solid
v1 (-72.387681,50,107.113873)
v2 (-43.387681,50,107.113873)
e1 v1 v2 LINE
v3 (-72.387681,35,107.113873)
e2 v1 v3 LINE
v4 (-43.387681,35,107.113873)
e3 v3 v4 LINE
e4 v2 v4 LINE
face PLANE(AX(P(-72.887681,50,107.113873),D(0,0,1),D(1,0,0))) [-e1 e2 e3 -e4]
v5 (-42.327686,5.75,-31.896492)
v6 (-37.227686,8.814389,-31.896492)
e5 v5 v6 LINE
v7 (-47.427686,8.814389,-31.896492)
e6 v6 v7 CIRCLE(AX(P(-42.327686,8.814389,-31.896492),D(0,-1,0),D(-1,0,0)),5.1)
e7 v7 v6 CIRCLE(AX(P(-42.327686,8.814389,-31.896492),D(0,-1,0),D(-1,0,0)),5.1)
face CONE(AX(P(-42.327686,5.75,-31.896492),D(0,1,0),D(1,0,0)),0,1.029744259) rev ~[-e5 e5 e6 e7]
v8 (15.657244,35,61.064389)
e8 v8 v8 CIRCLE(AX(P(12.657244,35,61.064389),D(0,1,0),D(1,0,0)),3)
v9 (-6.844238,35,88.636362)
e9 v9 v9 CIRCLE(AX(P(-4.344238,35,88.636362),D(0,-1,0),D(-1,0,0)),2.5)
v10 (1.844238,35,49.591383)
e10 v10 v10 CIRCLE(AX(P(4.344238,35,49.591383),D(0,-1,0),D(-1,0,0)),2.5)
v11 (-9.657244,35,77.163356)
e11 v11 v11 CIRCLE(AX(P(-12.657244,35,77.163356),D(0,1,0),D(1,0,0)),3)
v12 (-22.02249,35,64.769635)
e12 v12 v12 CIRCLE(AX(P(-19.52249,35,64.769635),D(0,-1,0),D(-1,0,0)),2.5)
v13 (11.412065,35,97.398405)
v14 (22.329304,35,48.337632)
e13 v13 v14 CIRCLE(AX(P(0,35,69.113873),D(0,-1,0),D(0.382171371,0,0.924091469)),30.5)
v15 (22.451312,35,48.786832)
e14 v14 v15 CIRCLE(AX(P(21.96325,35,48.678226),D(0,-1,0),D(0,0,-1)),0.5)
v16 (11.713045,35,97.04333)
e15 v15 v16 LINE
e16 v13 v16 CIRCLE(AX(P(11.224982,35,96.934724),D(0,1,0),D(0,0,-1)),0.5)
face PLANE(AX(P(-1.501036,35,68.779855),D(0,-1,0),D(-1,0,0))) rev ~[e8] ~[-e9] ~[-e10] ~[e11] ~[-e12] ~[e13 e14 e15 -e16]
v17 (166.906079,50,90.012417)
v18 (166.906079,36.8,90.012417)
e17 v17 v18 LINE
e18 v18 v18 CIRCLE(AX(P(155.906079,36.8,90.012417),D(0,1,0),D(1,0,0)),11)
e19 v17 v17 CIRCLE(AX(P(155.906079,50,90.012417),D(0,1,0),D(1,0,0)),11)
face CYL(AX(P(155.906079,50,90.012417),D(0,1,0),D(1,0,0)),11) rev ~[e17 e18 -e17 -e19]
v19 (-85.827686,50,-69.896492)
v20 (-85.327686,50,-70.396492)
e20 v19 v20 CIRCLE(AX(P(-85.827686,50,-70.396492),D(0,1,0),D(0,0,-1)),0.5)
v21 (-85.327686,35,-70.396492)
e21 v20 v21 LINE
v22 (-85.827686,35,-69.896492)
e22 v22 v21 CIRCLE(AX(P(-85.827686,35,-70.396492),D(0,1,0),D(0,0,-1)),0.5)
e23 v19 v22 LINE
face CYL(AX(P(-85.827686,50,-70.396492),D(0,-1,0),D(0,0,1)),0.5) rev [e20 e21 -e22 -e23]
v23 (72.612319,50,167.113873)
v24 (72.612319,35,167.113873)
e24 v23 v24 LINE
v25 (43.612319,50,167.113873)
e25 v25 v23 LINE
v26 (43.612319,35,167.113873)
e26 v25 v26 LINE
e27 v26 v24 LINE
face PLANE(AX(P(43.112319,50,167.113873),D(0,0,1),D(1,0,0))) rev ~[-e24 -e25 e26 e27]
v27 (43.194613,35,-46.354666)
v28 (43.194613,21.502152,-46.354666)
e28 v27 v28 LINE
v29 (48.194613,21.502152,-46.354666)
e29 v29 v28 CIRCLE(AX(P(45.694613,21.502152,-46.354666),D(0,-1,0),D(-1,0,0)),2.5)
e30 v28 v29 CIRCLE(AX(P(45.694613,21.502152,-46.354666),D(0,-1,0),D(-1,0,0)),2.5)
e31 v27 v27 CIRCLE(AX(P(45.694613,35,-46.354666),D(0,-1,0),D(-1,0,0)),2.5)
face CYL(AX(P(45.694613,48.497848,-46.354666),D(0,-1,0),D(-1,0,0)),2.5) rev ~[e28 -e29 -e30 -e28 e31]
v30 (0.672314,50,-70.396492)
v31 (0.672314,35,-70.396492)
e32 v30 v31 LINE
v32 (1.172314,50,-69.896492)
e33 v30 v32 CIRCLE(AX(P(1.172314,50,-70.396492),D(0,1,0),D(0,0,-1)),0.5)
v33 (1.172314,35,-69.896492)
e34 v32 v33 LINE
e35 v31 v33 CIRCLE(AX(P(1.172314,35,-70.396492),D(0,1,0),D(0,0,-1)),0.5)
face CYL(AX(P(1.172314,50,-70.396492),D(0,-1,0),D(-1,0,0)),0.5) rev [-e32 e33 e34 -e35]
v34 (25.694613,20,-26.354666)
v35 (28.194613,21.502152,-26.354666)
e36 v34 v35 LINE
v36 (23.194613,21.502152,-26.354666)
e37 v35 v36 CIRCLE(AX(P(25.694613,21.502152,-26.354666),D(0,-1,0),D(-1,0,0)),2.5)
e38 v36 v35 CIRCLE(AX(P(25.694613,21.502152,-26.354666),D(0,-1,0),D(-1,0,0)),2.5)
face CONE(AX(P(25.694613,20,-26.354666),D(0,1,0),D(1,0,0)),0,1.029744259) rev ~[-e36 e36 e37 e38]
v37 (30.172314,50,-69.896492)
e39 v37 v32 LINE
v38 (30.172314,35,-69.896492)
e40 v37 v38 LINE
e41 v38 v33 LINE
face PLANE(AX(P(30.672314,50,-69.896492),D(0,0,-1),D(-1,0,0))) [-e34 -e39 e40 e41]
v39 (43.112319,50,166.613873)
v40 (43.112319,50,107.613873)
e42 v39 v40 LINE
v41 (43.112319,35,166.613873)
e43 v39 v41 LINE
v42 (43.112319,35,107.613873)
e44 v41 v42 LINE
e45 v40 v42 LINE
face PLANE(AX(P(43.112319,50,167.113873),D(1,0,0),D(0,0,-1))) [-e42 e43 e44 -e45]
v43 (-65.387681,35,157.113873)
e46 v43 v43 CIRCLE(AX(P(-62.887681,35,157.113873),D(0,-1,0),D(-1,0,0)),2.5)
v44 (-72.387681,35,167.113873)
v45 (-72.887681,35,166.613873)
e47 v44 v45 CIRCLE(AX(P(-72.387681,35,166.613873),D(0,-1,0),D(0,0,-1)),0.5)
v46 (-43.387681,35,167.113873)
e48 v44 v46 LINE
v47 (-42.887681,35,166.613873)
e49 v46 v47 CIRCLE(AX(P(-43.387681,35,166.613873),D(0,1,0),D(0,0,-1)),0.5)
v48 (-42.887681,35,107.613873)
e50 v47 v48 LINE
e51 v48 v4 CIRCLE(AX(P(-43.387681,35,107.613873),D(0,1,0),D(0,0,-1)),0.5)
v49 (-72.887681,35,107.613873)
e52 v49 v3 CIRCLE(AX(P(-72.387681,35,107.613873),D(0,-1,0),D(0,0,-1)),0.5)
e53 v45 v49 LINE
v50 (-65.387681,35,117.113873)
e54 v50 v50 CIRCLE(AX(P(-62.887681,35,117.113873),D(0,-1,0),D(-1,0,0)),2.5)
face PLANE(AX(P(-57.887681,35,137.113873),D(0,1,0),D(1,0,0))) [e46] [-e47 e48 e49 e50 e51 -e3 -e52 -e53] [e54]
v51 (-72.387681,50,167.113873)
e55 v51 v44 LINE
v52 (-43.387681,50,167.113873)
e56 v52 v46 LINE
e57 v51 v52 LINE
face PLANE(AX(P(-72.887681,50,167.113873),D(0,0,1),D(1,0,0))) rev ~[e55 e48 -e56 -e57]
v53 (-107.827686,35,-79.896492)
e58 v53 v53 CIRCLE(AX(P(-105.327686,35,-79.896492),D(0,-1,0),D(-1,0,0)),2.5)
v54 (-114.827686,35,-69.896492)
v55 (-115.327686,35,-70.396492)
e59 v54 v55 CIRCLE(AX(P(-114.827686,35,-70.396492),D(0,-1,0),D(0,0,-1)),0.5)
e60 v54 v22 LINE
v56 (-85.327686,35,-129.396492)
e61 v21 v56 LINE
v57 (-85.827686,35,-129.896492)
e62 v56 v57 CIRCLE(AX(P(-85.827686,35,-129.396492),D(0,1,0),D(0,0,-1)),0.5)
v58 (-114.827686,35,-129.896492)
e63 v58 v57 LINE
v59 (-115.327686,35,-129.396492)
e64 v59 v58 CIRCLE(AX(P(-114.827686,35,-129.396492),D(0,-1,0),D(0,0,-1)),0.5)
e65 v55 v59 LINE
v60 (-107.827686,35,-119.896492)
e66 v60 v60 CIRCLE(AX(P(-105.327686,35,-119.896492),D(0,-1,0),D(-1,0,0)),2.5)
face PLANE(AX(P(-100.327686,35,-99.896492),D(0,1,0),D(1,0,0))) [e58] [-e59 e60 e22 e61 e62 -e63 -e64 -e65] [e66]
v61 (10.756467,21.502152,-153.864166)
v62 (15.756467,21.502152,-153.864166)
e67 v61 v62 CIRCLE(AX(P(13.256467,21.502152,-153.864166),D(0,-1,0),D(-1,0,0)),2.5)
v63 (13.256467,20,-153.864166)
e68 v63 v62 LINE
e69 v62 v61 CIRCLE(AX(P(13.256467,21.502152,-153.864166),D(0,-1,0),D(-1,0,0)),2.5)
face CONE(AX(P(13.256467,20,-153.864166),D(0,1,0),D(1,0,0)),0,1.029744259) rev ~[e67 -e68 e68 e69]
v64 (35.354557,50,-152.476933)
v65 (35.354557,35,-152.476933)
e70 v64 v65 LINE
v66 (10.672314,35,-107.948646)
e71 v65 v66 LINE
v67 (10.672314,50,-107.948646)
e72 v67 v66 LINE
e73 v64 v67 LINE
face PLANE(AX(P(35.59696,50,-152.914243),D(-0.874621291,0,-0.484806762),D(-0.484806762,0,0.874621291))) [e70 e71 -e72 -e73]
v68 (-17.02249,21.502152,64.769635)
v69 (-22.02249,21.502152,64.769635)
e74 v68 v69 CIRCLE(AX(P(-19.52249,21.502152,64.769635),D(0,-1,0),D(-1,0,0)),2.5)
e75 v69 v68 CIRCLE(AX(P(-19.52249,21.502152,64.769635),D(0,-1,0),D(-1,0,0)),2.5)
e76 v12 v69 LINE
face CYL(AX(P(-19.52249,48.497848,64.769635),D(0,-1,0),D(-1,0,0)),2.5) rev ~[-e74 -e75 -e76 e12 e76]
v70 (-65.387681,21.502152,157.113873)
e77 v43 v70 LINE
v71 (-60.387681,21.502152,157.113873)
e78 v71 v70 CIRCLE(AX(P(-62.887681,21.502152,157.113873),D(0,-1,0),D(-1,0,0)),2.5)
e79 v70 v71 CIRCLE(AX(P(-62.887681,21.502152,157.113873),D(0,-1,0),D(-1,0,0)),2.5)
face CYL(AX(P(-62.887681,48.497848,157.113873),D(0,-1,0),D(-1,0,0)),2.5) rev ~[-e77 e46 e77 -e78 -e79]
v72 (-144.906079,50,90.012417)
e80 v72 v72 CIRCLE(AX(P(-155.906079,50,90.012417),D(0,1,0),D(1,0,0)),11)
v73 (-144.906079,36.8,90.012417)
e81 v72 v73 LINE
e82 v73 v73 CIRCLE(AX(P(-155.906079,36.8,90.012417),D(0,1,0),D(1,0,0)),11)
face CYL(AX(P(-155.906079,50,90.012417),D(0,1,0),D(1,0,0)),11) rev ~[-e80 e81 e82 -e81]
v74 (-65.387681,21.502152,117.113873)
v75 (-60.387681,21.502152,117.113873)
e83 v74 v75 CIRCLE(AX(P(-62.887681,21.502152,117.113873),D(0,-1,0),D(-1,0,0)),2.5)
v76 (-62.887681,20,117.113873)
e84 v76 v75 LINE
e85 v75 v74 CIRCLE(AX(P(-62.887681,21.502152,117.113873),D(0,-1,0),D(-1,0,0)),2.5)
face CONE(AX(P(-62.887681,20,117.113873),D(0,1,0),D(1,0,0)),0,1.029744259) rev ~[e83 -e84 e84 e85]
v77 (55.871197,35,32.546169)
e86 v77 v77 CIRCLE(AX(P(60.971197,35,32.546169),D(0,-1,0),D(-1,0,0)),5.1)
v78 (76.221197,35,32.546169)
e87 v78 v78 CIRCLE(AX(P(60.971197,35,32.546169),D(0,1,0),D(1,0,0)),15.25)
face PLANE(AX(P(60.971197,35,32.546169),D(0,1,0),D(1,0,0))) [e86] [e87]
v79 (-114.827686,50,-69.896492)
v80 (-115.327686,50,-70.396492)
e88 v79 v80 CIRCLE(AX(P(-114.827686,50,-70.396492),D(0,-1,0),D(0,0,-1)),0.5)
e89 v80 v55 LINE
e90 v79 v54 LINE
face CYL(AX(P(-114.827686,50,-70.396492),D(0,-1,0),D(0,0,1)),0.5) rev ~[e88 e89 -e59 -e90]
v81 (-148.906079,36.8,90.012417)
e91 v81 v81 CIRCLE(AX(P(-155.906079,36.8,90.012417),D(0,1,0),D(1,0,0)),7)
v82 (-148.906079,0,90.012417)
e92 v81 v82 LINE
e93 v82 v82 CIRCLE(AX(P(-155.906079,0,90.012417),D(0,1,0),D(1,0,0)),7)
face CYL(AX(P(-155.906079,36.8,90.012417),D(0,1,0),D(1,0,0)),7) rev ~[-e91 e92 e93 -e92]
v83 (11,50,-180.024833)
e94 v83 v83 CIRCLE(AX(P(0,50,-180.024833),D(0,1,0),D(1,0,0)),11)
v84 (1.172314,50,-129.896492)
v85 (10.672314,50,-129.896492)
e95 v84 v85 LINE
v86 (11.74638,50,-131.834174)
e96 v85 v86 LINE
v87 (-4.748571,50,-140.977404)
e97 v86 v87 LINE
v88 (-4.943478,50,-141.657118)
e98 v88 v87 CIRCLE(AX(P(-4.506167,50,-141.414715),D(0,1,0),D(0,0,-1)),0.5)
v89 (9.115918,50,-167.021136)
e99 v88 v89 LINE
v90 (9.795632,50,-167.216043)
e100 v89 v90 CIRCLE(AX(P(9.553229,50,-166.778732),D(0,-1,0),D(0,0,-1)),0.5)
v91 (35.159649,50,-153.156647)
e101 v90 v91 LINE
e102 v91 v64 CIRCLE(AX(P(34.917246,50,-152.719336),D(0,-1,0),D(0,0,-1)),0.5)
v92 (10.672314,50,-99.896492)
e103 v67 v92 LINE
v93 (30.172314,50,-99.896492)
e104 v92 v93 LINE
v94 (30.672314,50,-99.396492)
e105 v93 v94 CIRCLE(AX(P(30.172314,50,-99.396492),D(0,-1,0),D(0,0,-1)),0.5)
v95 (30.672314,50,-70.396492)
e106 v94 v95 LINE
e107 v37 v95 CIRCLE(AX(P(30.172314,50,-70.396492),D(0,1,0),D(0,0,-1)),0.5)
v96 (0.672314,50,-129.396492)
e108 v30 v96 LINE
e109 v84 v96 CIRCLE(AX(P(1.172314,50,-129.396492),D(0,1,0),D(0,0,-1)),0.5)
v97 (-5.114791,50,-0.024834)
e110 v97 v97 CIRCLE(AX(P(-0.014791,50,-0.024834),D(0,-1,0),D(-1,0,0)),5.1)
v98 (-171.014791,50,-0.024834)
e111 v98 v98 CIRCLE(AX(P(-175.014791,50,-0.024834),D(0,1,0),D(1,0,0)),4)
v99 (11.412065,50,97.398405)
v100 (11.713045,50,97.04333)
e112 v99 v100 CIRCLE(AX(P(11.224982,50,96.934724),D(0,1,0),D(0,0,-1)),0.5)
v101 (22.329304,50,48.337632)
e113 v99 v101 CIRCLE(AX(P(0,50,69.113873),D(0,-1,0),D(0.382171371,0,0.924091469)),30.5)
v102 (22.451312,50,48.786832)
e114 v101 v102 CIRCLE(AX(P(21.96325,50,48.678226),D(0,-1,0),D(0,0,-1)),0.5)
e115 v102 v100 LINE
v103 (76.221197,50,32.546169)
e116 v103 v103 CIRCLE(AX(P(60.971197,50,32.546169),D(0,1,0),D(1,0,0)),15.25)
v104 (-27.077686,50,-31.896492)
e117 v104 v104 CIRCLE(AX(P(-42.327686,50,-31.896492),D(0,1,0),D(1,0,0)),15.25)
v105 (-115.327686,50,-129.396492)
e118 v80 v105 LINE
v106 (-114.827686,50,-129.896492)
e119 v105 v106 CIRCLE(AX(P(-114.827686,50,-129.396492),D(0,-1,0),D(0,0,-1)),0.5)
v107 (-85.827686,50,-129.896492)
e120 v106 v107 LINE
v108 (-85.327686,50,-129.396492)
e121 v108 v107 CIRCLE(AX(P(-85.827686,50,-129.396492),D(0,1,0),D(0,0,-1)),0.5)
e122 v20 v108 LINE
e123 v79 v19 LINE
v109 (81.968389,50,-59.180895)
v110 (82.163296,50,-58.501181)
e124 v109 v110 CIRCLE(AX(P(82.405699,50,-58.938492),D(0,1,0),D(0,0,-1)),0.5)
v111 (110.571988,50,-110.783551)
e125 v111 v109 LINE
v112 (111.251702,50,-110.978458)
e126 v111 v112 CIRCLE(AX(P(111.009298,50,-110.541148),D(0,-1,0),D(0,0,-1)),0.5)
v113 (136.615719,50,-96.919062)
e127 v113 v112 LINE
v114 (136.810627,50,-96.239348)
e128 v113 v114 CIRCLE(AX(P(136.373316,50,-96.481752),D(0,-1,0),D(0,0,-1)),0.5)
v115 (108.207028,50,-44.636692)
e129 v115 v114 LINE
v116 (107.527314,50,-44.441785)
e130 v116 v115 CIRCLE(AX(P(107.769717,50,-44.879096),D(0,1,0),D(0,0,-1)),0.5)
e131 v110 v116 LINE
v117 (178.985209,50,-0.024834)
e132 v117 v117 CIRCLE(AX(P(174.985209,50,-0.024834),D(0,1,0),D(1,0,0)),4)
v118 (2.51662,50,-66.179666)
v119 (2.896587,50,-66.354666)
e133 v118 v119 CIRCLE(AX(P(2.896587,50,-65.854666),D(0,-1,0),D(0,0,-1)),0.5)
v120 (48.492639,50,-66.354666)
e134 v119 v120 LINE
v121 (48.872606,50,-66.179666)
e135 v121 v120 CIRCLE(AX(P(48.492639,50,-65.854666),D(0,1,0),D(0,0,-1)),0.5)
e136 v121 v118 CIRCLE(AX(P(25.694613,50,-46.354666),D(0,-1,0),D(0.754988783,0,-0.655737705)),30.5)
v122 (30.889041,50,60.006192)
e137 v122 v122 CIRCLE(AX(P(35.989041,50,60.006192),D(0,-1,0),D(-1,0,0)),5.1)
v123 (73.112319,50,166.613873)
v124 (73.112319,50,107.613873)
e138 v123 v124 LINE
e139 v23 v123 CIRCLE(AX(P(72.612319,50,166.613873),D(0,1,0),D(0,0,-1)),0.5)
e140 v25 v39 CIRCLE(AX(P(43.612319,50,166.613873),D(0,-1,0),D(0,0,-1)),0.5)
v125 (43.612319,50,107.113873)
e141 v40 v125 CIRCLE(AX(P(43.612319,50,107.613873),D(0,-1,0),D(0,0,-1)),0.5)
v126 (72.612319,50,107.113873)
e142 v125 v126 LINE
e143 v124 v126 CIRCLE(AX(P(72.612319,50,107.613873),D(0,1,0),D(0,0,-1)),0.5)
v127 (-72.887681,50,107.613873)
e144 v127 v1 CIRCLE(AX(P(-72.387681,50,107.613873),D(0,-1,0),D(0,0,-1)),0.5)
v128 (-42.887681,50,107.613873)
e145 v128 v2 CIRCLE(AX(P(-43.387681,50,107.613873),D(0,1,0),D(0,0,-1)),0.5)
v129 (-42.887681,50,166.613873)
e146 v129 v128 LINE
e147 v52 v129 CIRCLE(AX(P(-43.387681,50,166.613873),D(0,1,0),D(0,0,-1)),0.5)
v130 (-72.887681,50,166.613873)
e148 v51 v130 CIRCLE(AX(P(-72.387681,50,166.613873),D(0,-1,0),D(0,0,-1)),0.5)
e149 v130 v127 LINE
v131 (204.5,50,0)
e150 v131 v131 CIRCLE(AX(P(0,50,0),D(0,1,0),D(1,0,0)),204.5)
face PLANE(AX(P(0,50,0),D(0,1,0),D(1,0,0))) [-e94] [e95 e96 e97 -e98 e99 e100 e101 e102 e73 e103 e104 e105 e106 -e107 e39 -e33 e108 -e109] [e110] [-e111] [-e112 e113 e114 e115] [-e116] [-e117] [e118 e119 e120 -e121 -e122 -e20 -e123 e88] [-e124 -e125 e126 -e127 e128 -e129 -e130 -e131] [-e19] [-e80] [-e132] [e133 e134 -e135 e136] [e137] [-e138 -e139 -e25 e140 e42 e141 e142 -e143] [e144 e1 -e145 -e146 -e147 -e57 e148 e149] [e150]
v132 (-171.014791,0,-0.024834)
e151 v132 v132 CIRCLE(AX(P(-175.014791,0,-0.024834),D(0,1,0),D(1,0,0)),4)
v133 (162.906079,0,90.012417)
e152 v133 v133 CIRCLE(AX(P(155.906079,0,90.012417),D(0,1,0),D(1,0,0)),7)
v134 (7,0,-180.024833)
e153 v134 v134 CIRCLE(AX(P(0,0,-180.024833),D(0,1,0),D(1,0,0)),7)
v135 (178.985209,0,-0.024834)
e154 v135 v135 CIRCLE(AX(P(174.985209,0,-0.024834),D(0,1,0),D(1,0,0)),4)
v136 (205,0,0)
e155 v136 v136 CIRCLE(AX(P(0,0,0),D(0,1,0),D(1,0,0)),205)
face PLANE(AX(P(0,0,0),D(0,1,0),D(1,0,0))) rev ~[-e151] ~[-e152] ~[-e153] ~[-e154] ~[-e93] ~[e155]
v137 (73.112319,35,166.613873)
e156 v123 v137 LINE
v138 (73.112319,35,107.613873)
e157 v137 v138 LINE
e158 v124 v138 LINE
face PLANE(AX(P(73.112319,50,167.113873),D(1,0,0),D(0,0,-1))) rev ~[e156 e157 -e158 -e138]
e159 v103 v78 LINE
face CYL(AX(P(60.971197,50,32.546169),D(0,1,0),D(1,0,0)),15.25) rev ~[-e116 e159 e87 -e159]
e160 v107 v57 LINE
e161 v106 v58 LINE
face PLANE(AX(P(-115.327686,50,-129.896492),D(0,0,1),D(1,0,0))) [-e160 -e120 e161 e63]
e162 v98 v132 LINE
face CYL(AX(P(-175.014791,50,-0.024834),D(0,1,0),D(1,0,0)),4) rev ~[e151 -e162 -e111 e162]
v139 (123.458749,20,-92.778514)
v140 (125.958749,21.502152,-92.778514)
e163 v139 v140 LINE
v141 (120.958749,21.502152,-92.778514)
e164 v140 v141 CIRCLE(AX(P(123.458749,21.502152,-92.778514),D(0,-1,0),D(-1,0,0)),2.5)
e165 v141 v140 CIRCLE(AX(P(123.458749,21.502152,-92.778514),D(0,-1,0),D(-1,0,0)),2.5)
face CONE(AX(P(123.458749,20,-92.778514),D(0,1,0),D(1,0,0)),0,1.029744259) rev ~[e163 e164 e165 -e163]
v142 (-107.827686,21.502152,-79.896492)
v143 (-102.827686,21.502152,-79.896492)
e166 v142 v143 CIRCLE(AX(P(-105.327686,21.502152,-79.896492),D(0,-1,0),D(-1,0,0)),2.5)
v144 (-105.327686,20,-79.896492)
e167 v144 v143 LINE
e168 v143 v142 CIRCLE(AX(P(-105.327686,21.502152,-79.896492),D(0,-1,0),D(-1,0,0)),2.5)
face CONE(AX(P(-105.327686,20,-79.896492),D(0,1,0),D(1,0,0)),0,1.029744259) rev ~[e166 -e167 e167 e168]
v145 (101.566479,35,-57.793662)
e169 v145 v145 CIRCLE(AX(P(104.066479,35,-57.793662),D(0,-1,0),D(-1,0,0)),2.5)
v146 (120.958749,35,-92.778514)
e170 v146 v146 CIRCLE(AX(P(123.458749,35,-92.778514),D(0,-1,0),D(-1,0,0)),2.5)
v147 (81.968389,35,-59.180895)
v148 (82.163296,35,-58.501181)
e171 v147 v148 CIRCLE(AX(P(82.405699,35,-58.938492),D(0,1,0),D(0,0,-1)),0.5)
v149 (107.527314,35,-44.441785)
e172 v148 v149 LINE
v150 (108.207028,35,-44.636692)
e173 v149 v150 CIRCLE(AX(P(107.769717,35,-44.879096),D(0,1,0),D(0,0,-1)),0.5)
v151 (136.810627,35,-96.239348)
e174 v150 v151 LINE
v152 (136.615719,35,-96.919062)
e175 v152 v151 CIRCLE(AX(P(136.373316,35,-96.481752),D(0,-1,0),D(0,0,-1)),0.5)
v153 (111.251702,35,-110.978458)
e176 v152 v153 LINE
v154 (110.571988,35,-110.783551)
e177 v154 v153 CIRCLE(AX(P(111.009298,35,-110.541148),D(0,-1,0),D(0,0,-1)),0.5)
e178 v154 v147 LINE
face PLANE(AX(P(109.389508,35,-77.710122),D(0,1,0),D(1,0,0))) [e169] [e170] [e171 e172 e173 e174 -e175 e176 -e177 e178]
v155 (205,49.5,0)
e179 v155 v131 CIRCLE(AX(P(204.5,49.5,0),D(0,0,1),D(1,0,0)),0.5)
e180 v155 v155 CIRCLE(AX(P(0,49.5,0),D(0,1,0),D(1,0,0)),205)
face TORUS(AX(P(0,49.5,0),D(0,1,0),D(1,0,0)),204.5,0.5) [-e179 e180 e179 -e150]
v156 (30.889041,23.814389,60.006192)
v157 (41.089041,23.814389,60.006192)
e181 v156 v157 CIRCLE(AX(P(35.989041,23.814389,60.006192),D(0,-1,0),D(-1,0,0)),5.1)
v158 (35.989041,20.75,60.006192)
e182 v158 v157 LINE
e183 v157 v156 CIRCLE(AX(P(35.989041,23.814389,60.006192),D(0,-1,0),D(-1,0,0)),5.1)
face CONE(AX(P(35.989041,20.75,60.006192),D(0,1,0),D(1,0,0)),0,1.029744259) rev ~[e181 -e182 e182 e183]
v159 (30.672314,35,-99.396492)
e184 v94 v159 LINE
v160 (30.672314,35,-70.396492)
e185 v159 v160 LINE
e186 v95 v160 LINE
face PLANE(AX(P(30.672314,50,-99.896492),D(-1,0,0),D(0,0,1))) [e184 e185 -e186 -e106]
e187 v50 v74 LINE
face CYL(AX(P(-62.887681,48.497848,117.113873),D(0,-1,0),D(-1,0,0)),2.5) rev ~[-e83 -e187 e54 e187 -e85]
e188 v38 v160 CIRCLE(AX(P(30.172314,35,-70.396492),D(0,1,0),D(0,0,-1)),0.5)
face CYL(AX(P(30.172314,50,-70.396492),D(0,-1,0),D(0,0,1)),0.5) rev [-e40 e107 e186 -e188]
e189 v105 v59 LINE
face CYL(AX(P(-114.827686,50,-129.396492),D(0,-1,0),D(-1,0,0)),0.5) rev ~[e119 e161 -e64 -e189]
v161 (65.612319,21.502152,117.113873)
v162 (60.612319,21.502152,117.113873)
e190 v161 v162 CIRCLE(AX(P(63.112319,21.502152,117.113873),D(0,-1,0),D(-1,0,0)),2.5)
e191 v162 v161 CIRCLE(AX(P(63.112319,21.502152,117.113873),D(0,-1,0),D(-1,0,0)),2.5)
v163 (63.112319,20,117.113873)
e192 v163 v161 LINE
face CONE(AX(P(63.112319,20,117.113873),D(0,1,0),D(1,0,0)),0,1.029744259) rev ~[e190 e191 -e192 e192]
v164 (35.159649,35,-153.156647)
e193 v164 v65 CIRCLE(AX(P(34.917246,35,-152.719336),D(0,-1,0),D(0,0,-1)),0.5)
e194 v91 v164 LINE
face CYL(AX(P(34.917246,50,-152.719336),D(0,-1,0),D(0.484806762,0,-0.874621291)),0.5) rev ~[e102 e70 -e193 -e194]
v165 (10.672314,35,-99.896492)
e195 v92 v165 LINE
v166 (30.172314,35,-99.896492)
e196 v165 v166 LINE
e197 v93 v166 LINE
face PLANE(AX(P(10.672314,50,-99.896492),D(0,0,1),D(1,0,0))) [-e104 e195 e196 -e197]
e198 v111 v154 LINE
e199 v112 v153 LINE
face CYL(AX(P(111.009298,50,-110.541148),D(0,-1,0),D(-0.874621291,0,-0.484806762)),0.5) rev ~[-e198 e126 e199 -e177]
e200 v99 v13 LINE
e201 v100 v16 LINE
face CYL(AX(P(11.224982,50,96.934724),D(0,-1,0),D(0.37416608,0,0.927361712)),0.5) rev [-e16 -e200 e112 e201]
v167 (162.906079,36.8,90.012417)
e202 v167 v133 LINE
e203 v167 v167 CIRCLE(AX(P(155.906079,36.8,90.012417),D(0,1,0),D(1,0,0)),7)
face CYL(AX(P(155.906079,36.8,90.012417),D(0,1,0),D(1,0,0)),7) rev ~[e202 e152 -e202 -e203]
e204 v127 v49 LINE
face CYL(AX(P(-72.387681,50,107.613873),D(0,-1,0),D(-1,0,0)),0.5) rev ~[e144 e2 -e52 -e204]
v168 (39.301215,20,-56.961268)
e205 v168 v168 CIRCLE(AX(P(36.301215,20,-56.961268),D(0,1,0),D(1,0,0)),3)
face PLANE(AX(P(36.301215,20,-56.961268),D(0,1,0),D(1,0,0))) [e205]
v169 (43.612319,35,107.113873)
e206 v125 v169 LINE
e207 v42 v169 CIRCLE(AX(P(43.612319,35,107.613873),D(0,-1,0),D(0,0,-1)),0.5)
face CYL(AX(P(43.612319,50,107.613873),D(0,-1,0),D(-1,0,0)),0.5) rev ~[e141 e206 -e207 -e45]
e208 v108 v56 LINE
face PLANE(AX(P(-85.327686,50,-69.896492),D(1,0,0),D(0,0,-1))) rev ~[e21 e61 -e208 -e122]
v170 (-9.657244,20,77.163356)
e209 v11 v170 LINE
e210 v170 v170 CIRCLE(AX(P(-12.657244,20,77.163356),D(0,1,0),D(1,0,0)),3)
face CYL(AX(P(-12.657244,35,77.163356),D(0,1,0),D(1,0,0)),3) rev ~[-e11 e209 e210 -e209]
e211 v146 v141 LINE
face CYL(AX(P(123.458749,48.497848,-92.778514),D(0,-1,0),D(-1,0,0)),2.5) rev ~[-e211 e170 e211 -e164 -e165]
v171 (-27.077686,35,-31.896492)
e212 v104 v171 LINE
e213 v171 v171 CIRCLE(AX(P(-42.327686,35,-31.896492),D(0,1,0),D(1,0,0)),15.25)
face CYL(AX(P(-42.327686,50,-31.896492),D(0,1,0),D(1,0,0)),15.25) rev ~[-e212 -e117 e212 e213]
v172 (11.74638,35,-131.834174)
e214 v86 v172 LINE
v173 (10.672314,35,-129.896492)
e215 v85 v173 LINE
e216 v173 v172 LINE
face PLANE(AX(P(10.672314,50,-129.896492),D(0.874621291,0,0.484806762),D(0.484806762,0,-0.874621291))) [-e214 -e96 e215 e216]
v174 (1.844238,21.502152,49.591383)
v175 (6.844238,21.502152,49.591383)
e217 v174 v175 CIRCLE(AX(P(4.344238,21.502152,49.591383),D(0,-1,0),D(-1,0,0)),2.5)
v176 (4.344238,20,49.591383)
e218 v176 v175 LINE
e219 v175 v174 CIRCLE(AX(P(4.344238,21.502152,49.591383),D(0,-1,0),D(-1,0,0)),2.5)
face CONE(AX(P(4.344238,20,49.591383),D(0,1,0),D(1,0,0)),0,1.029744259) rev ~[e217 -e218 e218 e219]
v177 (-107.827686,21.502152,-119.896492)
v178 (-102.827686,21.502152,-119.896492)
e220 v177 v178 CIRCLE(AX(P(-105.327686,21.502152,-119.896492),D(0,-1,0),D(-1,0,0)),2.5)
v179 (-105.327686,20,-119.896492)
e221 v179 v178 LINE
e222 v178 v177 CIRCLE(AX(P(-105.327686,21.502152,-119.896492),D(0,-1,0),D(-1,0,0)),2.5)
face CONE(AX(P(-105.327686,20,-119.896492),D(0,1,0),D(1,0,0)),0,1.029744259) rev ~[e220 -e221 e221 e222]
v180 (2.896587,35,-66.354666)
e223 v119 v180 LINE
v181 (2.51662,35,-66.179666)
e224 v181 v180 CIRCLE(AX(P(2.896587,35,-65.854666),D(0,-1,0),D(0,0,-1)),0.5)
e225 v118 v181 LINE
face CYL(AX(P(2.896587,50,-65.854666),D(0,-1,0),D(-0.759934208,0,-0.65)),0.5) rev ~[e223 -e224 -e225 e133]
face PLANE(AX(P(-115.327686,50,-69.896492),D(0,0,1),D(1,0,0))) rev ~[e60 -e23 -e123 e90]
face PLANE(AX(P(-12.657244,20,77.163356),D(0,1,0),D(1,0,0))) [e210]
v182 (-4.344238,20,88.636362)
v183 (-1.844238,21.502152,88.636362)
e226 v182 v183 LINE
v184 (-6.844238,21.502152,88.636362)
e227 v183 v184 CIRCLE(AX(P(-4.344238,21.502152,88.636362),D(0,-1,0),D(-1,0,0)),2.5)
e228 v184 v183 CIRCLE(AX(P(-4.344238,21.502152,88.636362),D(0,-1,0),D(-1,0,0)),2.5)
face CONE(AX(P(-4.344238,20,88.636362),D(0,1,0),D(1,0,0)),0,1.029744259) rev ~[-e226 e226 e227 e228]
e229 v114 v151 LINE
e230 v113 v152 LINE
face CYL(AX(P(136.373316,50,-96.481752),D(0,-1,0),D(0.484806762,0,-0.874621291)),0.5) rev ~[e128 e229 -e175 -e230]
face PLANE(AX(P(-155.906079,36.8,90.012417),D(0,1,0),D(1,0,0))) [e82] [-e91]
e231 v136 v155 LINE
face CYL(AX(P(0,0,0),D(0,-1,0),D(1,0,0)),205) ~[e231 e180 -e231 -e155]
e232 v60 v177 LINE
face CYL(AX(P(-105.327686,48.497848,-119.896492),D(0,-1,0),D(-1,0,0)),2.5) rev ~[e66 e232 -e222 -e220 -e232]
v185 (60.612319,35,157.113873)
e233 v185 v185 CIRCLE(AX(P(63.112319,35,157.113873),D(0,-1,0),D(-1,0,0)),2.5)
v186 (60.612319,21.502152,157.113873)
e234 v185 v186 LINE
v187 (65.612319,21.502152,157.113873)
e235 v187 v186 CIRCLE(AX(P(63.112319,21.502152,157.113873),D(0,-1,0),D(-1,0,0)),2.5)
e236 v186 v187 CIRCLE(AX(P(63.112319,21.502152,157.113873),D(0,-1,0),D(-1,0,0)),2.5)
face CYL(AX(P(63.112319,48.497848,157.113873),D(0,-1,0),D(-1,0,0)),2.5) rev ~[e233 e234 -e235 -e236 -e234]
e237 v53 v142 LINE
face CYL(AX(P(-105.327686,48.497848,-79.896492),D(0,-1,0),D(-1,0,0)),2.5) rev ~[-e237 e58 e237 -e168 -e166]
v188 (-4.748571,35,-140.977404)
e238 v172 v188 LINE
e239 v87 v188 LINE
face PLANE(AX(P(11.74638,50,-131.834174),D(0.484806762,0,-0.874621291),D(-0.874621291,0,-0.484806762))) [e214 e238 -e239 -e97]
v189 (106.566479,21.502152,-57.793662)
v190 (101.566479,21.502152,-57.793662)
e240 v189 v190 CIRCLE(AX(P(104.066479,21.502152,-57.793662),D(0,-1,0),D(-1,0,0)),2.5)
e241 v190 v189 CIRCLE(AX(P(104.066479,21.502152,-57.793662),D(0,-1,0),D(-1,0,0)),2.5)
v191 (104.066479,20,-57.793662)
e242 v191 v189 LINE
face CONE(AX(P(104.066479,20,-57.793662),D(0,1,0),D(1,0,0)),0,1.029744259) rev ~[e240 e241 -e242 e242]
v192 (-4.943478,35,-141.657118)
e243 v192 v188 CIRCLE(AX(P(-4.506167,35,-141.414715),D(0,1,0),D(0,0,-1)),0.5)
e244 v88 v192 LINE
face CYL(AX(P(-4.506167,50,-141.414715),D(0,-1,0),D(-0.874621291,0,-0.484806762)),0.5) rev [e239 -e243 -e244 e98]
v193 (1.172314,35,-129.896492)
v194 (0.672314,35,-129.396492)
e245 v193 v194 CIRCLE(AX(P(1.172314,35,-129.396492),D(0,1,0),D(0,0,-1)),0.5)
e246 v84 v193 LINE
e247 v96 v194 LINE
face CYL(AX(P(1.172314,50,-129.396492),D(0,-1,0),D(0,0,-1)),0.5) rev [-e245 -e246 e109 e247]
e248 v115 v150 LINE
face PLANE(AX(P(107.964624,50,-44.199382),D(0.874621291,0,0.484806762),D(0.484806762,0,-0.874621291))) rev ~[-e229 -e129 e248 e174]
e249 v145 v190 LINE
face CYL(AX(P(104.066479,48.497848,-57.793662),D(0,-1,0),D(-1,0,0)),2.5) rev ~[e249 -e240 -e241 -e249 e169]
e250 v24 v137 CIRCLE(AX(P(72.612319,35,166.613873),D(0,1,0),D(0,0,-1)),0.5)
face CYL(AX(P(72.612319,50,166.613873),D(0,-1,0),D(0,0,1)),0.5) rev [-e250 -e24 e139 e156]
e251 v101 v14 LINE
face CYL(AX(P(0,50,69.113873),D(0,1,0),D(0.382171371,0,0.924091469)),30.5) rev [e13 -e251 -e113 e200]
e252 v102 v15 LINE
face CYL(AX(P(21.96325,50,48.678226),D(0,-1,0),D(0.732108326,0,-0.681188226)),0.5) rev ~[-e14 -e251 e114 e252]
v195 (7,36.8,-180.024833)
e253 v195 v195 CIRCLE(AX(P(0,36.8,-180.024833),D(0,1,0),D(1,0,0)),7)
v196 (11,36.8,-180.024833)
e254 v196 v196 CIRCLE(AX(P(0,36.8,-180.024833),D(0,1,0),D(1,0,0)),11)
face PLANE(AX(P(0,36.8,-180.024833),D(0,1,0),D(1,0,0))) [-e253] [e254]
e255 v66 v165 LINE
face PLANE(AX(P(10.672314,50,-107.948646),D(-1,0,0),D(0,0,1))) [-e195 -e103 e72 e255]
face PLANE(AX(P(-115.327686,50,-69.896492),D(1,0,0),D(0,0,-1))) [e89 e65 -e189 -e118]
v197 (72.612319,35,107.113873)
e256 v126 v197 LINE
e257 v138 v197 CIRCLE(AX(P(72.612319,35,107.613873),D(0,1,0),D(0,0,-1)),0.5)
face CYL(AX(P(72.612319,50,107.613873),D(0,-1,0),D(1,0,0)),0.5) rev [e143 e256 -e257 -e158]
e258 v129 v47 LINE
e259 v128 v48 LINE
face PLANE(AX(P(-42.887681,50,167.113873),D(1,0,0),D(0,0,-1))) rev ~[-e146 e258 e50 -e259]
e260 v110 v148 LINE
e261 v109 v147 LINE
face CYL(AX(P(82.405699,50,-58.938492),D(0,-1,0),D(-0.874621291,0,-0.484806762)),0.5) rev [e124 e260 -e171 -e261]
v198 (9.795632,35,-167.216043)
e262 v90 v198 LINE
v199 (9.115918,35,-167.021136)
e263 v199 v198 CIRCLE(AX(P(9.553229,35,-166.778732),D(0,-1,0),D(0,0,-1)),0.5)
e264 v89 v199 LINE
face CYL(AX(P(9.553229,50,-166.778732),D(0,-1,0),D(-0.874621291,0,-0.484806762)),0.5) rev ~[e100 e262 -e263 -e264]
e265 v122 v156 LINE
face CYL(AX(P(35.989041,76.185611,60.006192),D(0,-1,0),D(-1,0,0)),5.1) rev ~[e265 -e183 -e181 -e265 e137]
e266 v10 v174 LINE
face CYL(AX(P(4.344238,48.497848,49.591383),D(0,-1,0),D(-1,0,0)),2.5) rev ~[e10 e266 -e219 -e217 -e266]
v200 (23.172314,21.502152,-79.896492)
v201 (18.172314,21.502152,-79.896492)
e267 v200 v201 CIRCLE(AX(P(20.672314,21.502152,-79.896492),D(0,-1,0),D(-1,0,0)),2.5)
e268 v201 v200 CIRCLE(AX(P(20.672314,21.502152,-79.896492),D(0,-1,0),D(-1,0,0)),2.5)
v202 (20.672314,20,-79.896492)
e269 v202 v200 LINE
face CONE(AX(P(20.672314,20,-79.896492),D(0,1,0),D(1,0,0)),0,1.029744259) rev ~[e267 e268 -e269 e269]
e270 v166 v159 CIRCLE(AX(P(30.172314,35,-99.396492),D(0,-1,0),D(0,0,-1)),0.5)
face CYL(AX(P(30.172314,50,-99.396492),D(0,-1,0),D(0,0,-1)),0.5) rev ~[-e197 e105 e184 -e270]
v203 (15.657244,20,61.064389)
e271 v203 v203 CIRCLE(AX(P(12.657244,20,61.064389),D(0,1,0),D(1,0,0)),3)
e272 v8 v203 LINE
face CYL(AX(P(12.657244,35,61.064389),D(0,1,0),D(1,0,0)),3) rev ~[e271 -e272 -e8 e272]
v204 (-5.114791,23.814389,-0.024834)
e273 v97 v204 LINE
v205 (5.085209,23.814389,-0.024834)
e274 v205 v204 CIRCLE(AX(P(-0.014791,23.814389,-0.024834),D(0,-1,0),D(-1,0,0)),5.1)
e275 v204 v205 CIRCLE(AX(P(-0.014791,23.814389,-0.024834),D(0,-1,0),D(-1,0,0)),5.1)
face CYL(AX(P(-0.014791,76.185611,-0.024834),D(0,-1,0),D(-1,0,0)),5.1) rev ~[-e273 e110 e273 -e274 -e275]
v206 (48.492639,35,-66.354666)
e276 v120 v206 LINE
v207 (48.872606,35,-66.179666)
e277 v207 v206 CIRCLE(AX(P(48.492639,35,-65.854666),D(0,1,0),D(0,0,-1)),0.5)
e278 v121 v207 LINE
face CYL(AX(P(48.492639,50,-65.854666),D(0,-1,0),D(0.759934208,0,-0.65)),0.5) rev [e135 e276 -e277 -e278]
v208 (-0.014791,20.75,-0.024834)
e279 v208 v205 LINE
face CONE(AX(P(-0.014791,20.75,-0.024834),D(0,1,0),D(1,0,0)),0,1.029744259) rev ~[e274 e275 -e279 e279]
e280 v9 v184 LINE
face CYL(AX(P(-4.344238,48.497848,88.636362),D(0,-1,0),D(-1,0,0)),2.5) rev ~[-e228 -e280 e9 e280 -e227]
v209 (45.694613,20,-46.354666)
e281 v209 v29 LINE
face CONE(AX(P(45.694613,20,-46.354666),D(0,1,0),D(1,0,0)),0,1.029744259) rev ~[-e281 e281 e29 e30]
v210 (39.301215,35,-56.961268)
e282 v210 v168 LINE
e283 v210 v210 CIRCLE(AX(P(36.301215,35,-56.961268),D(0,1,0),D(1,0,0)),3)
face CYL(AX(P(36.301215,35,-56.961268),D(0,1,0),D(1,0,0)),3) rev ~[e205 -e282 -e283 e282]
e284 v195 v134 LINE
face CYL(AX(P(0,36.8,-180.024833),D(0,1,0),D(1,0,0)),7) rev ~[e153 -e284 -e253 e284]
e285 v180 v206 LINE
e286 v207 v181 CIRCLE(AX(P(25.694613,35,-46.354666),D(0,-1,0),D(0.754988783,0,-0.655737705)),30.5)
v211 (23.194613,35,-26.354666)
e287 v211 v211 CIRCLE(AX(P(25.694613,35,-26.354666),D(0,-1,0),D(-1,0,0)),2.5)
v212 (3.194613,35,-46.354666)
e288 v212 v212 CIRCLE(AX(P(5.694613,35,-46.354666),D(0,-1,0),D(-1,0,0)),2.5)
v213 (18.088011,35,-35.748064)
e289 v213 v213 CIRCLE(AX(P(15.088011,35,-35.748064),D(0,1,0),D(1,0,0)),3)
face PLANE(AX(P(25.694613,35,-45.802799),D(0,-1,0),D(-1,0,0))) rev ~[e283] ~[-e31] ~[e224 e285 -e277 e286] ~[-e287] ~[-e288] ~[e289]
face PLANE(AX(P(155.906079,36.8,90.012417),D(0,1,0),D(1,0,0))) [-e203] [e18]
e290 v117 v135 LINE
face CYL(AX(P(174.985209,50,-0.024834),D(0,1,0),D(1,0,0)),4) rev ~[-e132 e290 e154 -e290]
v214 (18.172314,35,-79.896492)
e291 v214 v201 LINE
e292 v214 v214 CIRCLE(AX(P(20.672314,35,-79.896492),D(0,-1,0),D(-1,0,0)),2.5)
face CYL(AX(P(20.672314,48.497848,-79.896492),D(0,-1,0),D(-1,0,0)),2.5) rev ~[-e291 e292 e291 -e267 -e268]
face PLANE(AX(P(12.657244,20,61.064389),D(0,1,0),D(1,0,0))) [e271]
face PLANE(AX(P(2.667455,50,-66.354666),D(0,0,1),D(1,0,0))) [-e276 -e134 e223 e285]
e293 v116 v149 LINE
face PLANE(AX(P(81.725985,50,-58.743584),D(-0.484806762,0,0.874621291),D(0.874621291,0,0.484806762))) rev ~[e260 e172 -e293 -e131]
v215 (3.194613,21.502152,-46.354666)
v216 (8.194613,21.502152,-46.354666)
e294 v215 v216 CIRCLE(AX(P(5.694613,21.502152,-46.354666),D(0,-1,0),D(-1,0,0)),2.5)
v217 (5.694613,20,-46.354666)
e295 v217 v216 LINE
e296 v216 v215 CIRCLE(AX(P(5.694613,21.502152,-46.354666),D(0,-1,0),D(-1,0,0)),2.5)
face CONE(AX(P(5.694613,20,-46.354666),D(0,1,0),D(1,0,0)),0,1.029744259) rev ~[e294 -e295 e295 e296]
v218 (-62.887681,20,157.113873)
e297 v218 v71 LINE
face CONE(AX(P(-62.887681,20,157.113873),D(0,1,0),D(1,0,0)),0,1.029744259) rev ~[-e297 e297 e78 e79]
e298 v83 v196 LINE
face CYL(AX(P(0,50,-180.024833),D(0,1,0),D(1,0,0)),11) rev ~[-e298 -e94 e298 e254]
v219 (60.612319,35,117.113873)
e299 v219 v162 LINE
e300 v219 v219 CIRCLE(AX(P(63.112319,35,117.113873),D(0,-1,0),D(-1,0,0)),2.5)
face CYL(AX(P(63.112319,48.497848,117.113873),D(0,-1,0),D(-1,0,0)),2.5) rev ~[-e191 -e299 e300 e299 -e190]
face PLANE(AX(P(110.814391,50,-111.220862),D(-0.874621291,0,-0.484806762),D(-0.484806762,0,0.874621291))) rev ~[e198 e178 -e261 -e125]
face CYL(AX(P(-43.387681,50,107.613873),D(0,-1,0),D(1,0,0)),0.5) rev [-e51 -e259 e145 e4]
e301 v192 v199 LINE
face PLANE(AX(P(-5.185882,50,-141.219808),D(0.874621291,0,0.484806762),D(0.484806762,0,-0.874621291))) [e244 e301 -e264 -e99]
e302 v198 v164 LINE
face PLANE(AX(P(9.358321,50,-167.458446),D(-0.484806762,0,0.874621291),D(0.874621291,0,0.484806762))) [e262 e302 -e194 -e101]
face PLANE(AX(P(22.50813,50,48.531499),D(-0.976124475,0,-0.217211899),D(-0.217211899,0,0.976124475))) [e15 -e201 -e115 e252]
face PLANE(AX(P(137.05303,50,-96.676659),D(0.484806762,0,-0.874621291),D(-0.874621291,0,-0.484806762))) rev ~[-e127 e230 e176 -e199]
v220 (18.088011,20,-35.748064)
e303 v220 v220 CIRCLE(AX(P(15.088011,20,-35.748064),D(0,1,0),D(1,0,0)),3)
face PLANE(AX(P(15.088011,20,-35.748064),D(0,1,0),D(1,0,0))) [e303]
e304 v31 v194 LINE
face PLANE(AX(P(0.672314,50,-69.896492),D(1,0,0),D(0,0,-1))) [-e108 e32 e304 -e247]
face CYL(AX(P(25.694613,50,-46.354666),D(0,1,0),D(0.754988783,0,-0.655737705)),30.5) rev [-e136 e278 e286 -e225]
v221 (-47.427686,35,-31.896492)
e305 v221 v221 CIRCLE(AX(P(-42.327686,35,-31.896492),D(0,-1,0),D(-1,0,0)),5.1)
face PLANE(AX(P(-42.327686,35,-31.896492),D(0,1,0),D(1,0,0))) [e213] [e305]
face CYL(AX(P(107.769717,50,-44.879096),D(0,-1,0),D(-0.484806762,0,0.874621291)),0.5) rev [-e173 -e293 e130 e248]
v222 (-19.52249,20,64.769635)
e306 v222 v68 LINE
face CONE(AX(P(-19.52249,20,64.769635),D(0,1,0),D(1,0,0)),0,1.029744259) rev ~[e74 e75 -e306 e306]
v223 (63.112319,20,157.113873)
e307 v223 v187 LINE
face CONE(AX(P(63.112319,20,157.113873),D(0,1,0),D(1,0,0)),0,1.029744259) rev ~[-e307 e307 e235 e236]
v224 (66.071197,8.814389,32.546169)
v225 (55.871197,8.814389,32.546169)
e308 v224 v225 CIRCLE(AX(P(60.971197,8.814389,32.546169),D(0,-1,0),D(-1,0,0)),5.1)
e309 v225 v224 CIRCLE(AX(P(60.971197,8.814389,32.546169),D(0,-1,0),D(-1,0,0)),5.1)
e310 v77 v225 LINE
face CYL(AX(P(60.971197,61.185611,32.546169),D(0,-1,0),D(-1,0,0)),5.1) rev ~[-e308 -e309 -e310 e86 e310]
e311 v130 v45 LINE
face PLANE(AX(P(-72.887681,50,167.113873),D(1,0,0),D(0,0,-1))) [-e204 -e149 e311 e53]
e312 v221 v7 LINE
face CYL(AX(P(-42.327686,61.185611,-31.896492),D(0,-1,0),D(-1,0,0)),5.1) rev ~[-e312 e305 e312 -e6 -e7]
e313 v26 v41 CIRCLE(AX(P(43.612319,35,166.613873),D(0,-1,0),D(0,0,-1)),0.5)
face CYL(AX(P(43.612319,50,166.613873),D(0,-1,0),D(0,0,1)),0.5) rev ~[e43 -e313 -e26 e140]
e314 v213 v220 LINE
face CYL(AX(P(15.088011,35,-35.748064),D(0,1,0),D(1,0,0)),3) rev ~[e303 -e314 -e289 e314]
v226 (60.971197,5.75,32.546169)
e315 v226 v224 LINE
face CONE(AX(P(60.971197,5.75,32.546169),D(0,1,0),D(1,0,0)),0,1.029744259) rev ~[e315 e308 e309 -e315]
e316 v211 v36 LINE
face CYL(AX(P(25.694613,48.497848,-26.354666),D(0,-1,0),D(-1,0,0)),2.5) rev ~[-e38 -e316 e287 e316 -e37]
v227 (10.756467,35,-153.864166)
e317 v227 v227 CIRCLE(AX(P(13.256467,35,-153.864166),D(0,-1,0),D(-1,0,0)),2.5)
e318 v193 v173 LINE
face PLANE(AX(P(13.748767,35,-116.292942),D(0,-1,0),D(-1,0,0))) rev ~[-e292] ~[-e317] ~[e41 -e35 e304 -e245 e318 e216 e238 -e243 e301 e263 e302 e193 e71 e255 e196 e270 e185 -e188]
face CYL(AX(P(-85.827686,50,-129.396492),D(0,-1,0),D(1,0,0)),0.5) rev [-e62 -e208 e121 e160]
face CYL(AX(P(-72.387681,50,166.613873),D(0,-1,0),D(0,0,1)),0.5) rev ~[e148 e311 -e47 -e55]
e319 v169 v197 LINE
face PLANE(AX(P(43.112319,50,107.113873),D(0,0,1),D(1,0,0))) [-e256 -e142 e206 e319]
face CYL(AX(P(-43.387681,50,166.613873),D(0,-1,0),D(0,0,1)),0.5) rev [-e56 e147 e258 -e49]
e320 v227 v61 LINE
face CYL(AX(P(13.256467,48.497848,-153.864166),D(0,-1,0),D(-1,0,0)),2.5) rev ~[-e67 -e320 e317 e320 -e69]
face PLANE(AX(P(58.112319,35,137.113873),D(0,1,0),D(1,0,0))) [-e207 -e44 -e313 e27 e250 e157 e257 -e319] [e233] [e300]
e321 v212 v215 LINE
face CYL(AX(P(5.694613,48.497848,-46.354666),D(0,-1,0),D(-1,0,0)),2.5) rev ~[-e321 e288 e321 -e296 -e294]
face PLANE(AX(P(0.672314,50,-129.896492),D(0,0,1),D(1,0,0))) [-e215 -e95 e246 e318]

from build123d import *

# Parameters (mm, degrees)
SKETCH1_R              = 205
BOSS_EXTRUDE1_DEPTH    = 50
SKETCH2_R              = 15.25
CUT_EXTRUDE1_DEPTH     = 15
M12_TAPPED_HOLE3_D     = 10.2
M12_TAPPED_HOLE3_DEPTH = 26.185610843
M12_TAPPED_HOLE3_TIP   = 3.064389157
SKETCH3_W              = 30
SKETCH3_H              = 60
CUT_EXTRUDE2_DEPTH     = 15
M6_TAPPED_HOLE3_D      = 5
M6_TAPPED_HOLE3_DEPTH  = 13.497848452
M6_TAPPED_HOLE3_TIP    = 1.502151548
M12_TAPPED_HOLE2_D     = 10.2
M12_TAPPED_HOLE2_DEPTH = 26.185610843
M12_TAPPED_HOLE2_TIP   = 3.064389157
SKETCH35_R             = 4
CUT_EXTRUDE4_DEPTH     = 295.193813667
SKETCH36_R             = 11
CUT_EXTRUDE5_DEPTH     = 13.2
SKETCH37_R             = 7
CUT_EXTRUDE6_DEPTH     = 293.240038325
FILLET1_R              = 0.5
M6_TAPPED_HOLE4_D      = 5
M6_TAPPED_HOLE4_DEPTH  = 13.497848452
M6_TAPPED_HOLE4_TIP    = 1.502151548
M6_TAPPED_HOLE5_D      = 5
M6_TAPPED_HOLE5_DEPTH  = 13.497848452
M6_TAPPED_HOLE5_TIP    = 1.502151548
SKETCH46_R             = 3
CUT_EXTRUDE7_DEPTH     = 15
M12_TAPPED_HOLE1_D     = 10.2
M12_TAPPED_HOLE1_DEPTH = 26.185610843
M12_TAPPED_HOLE1_TIP   = 3.064389157


with BuildPart() as part:
    # Sketch1 → Boss-Extrude1 (new body)
    with BuildSketch(Plane(origin=(0, 0, 0), x_dir=(1, 0, 0), z_dir=(0, 1, 0))):
        Circle(SKETCH1_R)
    extrude(amount=BOSS_EXTRUDE1_DEPTH)

    # Sketch2 → Cut-Extrude1 (cut)
    with BuildSketch(Plane(origin=(0, 50, 0), x_dir=(1, 0, 0), z_dir=(0, 1, 0))):
        with Locations((-42.327685627, 31.896492385)):
            Circle(SKETCH2_R)
        with Locations((60.971197017, -32.546169272)):
            Circle(SKETCH2_R)
        with BuildLine():
            Line((22.508129816, -48.531499254), (11.656226811, -97.298662399))
            ThreePointArc((11.656226811, -97.298662399), (-29.77179649, -62.488909666), (22.508129816, -48.531499254))
        make_face()
        with BuildLine():
            Line((2.66745507, 66.354666069), (48.721770829, 66.354666069))
            ThreePointArc((48.721770829, 66.354666069), (25.69461295, 15.854666069), (2.66745507, 66.354666069))
        make_face()
    extrude(amount=-CUT_EXTRUDE1_DEPTH, mode=Mode.SUBTRACT)

    # M12 Tapped Hole3
    with Locations(Plane(origin=(0, 50, 0), x_dir=(1, 0, 0), z_dir=(0, 1, 0))):
        with Locations((-0.014790744, 0.024833856)):
            Hole(M12_TAPPED_HOLE3_D / 2, depth=M12_TAPPED_HOLE3_DEPTH)
            with Locations((0, 0, -(M12_TAPPED_HOLE3_DEPTH + M12_TAPPED_HOLE3_TIP / 2))):  # 118° drill point
                Cone(0, M12_TAPPED_HOLE3_D / 2, M12_TAPPED_HOLE3_TIP, mode=Mode.SUBTRACT)

    # Sketch3 → Cut-Extrude2 (cut)
    with BuildSketch(Plane(origin=(0, 50, 0), x_dir=(1, 0, 0), z_dir=(0, 1, 0))):
        with Locations((58.112318667, -137.113872591)):
            Rectangle(SKETCH3_W, SKETCH3_H)
        Polygon((137.053029906, 96.676659004), (110.814391162, 111.220861865), (81.72598544, 58.743584377), (107.964624184, 44.199381516), align=None)
        with Locations((-100.327685627, 99.896492385)):
            Rectangle(SKETCH3_W, SKETCH3_H)
        with Locations((-57.887681333, -137.113872591)):
            Rectangle(SKETCH3_W, SKETCH3_H)
        Polygon((35.596960096, 152.9142434), (9.358321352, 167.458446261), (-5.185881509, 141.219807517), (11.746380439, 131.834173793), (10.672314373, 129.896492385), (0.672314373, 129.896492385), (0.672314373, 69.896492385), (30.672314373, 69.896492385), (30.672314373, 99.896492385), (10.672314373, 99.896492385), (10.672314373, 107.948645684), align=None)
    extrude(amount=-CUT_EXTRUDE2_DEPTH, mode=Mode.SUBTRACT)

    # M6 Tapped Hole3
    with Locations(Plane(origin=(0, 35, 0), x_dir=(1, 0, 0), z_dir=(0, 1, 0))):
        with Locations((123.458749371, 92.77851371), (104.06647889, 57.793662051), (-105.327685627, 119.896492385), (-105.327685627, 79.896492385), (-62.887681333, -117.113872591), (-62.887681333, -157.113872591), (63.112318667, -117.113872591), (63.112318667, -157.113872591), (13.256466646, 153.864165726), (20.672314373, 79.896492385)):
            Hole(M6_TAPPED_HOLE3_D / 2, depth=M6_TAPPED_HOLE3_DEPTH)
            with Locations((0, 0, -(M6_TAPPED_HOLE3_DEPTH + M6_TAPPED_HOLE3_TIP / 2))):  # 118° drill point
                Cone(0, M6_TAPPED_HOLE3_D / 2, M6_TAPPED_HOLE3_TIP, mode=Mode.SUBTRACT)

    # M12 Tapped Hole2
    with Locations(Plane(origin=(0, 50, 0), x_dir=(1, 0, 0), z_dir=(0, 1, 0))):
        with Locations((35.989041426, -60.006192032)):
            Hole(M12_TAPPED_HOLE2_D / 2, depth=M12_TAPPED_HOLE2_DEPTH)
            with Locations((0, 0, -(M12_TAPPED_HOLE2_DEPTH + M12_TAPPED_HOLE2_TIP / 2))):  # 118° drill point
                Cone(0, M12_TAPPED_HOLE2_D / 2, M12_TAPPED_HOLE2_TIP, mode=Mode.SUBTRACT)

    # Sketch35 → Cut-Extrude4 (cut, through all)
    with BuildSketch(Plane(origin=(0, 50, 0), x_dir=(1, 0, 0), z_dir=(0, 1, 0))):
        with Locations((-175.014790744, 0.024833856)):
            Circle(SKETCH35_R)
        with Locations((174.985209256, 0.024833856)):
            Circle(SKETCH35_R)
    extrude(amount=-CUT_EXTRUDE4_DEPTH, mode=Mode.SUBTRACT)

    # Sketch36 → Cut-Extrude5 (cut)
    with BuildSketch(Plane(origin=(0, 50, 0), x_dir=(1, 0, 0), z_dir=(0, 1, 0))):
        with Locations((0, 180.024833248)):
            Circle(SKETCH36_R)
        with Locations((155.906078905, -90.012416624)):
            Circle(SKETCH36_R)
        with Locations((-155.906078905, -90.012416624)):
            Circle(SKETCH36_R)
    extrude(amount=-CUT_EXTRUDE5_DEPTH, mode=Mode.SUBTRACT)

    # Sketch37 → Cut-Extrude6 (cut, through all)
    with BuildSketch(Plane(origin=(0, 36.8, 0), x_dir=(1, 0, 0), z_dir=(0, 1, 0))):
        with Locations((0, 180.024833248)):
            Circle(SKETCH37_R)
        with Locations((155.906078905, -90.012416624)):
            Circle(SKETCH37_R)
        with Locations((-155.906078905, -90.012416624)):
            Circle(SKETCH37_R)
    extrude(amount=-CUT_EXTRUDE6_DEPTH, mode=Mode.SUBTRACT)

    # Fillet1
    fillet1_edges = [part.edges().sort_by_distance(p)[0] for p in [
        (-115.327685627, 42.5, -69.896492385),
        (-115.327685627, 42.5, -129.896492385),
        (-85.327685627, 42.5, -129.896492385),
        (-85.327685627, 42.5, -69.896492385),
        (-42.887681333, 42.5, 167.113872591),
        (-42.887681333, 42.5, 107.113872591),
        (-72.887681333, 42.5, 167.113872591),
        (-72.887681333, 42.5, 107.113872591),
        (43.112318667, 42.5, 107.113872591),
        (43.112318667, 42.5, 167.113872591),
        (73.112318667, 42.5, 107.113872591),
        (73.112318667, 42.5, 167.113872591),
        (30.672314373, 42.5, -99.896492385),
        (30.672314373, 42.5, -69.896492385),
        (0.672314373, 42.5, -69.896492385),
        (0.672314373, 42.5, -129.896492385),
        (-5.185881509, 42.5, -141.219807517),
        (9.358321352, 42.5, -167.458446261),
        (35.596960096, 42.5, -152.9142434),
        (137.053029906, 42.5, -96.676659004),
        (110.814391162, 42.5, -111.220861865),
        (107.964624184, 42.5, -44.199381516),
        (81.72598544, 42.5, -58.743584377),
        (-205, 50, 0),
        (11.656226811, 42.5, 97.298662399),
        (22.508129816, 42.5, 48.531499254),
        (48.721770829, 42.5, -66.354666069),
        (2.66745507, 42.5, -66.354666069),
    ]]
    fillet(fillet1_edges, radius=FILLET1_R)

    # M6 Tapped Hole4
    with Locations(Plane(origin=(0, 35, 0), x_dir=(1, 0, 0), z_dir=(0, 1, 0))):
        with Locations((5.69461295, 46.354666069), (25.69461295, 26.354666069), (45.69461295, 46.354666069)):
            Hole(M6_TAPPED_HOLE4_D / 2, depth=M6_TAPPED_HOLE4_DEPTH)
            with Locations((0, 0, -(M6_TAPPED_HOLE4_DEPTH + M6_TAPPED_HOLE4_TIP / 2))):  # 118° drill point
                Cone(0, M6_TAPPED_HOLE4_D / 2, M6_TAPPED_HOLE4_TIP, mode=Mode.SUBTRACT)

    # M6 Tapped Hole5
    with Locations(Plane(origin=(0, 35, 0), x_dir=(1, 0, 0), z_dir=(0, 1, 0))):
        with Locations((-19.522489502, -64.769634607), (4.344237984, -49.591383089), (-4.344237984, -88.636362093)):
            Hole(M6_TAPPED_HOLE5_D / 2, depth=M6_TAPPED_HOLE5_DEPTH)
            with Locations((0, 0, -(M6_TAPPED_HOLE5_DEPTH + M6_TAPPED_HOLE5_TIP / 2))):  # 118° drill point
                Cone(0, M6_TAPPED_HOLE5_D / 2, M6_TAPPED_HOLE5_TIP, mode=Mode.SUBTRACT)

    # Sketch46 → Cut-Extrude7 (cut)
    with BuildSketch(Plane(origin=(0, 35, 0), x_dir=(1, 0, 0), z_dir=(0, 1, 0))):
        with Locations((-12.657243637, -77.163356022)):
            Circle(SKETCH46_R)
        with Locations((12.657243637, -61.06438916)):
            Circle(SKETCH46_R)
        with Locations((15.088011232, 35.748064351)):
            Circle(SKETCH46_R)
        with Locations((36.301214668, 56.961267787)):
            Circle(SKETCH46_R)
    extrude(amount=-CUT_EXTRUDE7_DEPTH, mode=Mode.SUBTRACT)

    # M12 Tapped Hole1
    with Locations(Plane(origin=(0, 35, 0), x_dir=(1, 0, 0), z_dir=(0, 1, 0))):
        with Locations((-42.327685627, 31.896492385), (60.971197017, -32.546169272)):
            Hole(M12_TAPPED_HOLE1_D / 2, depth=M12_TAPPED_HOLE1_DEPTH)
            with Locations((0, 0, -(M12_TAPPED_HOLE1_DEPTH + M12_TAPPED_HOLE1_TIP / 2))):  # 118° drill point
                Cone(0, M12_TAPPED_HOLE1_D / 2, M12_TAPPED_HOLE1_TIP, mode=Mode.SUBTRACT)


solid = part.part
